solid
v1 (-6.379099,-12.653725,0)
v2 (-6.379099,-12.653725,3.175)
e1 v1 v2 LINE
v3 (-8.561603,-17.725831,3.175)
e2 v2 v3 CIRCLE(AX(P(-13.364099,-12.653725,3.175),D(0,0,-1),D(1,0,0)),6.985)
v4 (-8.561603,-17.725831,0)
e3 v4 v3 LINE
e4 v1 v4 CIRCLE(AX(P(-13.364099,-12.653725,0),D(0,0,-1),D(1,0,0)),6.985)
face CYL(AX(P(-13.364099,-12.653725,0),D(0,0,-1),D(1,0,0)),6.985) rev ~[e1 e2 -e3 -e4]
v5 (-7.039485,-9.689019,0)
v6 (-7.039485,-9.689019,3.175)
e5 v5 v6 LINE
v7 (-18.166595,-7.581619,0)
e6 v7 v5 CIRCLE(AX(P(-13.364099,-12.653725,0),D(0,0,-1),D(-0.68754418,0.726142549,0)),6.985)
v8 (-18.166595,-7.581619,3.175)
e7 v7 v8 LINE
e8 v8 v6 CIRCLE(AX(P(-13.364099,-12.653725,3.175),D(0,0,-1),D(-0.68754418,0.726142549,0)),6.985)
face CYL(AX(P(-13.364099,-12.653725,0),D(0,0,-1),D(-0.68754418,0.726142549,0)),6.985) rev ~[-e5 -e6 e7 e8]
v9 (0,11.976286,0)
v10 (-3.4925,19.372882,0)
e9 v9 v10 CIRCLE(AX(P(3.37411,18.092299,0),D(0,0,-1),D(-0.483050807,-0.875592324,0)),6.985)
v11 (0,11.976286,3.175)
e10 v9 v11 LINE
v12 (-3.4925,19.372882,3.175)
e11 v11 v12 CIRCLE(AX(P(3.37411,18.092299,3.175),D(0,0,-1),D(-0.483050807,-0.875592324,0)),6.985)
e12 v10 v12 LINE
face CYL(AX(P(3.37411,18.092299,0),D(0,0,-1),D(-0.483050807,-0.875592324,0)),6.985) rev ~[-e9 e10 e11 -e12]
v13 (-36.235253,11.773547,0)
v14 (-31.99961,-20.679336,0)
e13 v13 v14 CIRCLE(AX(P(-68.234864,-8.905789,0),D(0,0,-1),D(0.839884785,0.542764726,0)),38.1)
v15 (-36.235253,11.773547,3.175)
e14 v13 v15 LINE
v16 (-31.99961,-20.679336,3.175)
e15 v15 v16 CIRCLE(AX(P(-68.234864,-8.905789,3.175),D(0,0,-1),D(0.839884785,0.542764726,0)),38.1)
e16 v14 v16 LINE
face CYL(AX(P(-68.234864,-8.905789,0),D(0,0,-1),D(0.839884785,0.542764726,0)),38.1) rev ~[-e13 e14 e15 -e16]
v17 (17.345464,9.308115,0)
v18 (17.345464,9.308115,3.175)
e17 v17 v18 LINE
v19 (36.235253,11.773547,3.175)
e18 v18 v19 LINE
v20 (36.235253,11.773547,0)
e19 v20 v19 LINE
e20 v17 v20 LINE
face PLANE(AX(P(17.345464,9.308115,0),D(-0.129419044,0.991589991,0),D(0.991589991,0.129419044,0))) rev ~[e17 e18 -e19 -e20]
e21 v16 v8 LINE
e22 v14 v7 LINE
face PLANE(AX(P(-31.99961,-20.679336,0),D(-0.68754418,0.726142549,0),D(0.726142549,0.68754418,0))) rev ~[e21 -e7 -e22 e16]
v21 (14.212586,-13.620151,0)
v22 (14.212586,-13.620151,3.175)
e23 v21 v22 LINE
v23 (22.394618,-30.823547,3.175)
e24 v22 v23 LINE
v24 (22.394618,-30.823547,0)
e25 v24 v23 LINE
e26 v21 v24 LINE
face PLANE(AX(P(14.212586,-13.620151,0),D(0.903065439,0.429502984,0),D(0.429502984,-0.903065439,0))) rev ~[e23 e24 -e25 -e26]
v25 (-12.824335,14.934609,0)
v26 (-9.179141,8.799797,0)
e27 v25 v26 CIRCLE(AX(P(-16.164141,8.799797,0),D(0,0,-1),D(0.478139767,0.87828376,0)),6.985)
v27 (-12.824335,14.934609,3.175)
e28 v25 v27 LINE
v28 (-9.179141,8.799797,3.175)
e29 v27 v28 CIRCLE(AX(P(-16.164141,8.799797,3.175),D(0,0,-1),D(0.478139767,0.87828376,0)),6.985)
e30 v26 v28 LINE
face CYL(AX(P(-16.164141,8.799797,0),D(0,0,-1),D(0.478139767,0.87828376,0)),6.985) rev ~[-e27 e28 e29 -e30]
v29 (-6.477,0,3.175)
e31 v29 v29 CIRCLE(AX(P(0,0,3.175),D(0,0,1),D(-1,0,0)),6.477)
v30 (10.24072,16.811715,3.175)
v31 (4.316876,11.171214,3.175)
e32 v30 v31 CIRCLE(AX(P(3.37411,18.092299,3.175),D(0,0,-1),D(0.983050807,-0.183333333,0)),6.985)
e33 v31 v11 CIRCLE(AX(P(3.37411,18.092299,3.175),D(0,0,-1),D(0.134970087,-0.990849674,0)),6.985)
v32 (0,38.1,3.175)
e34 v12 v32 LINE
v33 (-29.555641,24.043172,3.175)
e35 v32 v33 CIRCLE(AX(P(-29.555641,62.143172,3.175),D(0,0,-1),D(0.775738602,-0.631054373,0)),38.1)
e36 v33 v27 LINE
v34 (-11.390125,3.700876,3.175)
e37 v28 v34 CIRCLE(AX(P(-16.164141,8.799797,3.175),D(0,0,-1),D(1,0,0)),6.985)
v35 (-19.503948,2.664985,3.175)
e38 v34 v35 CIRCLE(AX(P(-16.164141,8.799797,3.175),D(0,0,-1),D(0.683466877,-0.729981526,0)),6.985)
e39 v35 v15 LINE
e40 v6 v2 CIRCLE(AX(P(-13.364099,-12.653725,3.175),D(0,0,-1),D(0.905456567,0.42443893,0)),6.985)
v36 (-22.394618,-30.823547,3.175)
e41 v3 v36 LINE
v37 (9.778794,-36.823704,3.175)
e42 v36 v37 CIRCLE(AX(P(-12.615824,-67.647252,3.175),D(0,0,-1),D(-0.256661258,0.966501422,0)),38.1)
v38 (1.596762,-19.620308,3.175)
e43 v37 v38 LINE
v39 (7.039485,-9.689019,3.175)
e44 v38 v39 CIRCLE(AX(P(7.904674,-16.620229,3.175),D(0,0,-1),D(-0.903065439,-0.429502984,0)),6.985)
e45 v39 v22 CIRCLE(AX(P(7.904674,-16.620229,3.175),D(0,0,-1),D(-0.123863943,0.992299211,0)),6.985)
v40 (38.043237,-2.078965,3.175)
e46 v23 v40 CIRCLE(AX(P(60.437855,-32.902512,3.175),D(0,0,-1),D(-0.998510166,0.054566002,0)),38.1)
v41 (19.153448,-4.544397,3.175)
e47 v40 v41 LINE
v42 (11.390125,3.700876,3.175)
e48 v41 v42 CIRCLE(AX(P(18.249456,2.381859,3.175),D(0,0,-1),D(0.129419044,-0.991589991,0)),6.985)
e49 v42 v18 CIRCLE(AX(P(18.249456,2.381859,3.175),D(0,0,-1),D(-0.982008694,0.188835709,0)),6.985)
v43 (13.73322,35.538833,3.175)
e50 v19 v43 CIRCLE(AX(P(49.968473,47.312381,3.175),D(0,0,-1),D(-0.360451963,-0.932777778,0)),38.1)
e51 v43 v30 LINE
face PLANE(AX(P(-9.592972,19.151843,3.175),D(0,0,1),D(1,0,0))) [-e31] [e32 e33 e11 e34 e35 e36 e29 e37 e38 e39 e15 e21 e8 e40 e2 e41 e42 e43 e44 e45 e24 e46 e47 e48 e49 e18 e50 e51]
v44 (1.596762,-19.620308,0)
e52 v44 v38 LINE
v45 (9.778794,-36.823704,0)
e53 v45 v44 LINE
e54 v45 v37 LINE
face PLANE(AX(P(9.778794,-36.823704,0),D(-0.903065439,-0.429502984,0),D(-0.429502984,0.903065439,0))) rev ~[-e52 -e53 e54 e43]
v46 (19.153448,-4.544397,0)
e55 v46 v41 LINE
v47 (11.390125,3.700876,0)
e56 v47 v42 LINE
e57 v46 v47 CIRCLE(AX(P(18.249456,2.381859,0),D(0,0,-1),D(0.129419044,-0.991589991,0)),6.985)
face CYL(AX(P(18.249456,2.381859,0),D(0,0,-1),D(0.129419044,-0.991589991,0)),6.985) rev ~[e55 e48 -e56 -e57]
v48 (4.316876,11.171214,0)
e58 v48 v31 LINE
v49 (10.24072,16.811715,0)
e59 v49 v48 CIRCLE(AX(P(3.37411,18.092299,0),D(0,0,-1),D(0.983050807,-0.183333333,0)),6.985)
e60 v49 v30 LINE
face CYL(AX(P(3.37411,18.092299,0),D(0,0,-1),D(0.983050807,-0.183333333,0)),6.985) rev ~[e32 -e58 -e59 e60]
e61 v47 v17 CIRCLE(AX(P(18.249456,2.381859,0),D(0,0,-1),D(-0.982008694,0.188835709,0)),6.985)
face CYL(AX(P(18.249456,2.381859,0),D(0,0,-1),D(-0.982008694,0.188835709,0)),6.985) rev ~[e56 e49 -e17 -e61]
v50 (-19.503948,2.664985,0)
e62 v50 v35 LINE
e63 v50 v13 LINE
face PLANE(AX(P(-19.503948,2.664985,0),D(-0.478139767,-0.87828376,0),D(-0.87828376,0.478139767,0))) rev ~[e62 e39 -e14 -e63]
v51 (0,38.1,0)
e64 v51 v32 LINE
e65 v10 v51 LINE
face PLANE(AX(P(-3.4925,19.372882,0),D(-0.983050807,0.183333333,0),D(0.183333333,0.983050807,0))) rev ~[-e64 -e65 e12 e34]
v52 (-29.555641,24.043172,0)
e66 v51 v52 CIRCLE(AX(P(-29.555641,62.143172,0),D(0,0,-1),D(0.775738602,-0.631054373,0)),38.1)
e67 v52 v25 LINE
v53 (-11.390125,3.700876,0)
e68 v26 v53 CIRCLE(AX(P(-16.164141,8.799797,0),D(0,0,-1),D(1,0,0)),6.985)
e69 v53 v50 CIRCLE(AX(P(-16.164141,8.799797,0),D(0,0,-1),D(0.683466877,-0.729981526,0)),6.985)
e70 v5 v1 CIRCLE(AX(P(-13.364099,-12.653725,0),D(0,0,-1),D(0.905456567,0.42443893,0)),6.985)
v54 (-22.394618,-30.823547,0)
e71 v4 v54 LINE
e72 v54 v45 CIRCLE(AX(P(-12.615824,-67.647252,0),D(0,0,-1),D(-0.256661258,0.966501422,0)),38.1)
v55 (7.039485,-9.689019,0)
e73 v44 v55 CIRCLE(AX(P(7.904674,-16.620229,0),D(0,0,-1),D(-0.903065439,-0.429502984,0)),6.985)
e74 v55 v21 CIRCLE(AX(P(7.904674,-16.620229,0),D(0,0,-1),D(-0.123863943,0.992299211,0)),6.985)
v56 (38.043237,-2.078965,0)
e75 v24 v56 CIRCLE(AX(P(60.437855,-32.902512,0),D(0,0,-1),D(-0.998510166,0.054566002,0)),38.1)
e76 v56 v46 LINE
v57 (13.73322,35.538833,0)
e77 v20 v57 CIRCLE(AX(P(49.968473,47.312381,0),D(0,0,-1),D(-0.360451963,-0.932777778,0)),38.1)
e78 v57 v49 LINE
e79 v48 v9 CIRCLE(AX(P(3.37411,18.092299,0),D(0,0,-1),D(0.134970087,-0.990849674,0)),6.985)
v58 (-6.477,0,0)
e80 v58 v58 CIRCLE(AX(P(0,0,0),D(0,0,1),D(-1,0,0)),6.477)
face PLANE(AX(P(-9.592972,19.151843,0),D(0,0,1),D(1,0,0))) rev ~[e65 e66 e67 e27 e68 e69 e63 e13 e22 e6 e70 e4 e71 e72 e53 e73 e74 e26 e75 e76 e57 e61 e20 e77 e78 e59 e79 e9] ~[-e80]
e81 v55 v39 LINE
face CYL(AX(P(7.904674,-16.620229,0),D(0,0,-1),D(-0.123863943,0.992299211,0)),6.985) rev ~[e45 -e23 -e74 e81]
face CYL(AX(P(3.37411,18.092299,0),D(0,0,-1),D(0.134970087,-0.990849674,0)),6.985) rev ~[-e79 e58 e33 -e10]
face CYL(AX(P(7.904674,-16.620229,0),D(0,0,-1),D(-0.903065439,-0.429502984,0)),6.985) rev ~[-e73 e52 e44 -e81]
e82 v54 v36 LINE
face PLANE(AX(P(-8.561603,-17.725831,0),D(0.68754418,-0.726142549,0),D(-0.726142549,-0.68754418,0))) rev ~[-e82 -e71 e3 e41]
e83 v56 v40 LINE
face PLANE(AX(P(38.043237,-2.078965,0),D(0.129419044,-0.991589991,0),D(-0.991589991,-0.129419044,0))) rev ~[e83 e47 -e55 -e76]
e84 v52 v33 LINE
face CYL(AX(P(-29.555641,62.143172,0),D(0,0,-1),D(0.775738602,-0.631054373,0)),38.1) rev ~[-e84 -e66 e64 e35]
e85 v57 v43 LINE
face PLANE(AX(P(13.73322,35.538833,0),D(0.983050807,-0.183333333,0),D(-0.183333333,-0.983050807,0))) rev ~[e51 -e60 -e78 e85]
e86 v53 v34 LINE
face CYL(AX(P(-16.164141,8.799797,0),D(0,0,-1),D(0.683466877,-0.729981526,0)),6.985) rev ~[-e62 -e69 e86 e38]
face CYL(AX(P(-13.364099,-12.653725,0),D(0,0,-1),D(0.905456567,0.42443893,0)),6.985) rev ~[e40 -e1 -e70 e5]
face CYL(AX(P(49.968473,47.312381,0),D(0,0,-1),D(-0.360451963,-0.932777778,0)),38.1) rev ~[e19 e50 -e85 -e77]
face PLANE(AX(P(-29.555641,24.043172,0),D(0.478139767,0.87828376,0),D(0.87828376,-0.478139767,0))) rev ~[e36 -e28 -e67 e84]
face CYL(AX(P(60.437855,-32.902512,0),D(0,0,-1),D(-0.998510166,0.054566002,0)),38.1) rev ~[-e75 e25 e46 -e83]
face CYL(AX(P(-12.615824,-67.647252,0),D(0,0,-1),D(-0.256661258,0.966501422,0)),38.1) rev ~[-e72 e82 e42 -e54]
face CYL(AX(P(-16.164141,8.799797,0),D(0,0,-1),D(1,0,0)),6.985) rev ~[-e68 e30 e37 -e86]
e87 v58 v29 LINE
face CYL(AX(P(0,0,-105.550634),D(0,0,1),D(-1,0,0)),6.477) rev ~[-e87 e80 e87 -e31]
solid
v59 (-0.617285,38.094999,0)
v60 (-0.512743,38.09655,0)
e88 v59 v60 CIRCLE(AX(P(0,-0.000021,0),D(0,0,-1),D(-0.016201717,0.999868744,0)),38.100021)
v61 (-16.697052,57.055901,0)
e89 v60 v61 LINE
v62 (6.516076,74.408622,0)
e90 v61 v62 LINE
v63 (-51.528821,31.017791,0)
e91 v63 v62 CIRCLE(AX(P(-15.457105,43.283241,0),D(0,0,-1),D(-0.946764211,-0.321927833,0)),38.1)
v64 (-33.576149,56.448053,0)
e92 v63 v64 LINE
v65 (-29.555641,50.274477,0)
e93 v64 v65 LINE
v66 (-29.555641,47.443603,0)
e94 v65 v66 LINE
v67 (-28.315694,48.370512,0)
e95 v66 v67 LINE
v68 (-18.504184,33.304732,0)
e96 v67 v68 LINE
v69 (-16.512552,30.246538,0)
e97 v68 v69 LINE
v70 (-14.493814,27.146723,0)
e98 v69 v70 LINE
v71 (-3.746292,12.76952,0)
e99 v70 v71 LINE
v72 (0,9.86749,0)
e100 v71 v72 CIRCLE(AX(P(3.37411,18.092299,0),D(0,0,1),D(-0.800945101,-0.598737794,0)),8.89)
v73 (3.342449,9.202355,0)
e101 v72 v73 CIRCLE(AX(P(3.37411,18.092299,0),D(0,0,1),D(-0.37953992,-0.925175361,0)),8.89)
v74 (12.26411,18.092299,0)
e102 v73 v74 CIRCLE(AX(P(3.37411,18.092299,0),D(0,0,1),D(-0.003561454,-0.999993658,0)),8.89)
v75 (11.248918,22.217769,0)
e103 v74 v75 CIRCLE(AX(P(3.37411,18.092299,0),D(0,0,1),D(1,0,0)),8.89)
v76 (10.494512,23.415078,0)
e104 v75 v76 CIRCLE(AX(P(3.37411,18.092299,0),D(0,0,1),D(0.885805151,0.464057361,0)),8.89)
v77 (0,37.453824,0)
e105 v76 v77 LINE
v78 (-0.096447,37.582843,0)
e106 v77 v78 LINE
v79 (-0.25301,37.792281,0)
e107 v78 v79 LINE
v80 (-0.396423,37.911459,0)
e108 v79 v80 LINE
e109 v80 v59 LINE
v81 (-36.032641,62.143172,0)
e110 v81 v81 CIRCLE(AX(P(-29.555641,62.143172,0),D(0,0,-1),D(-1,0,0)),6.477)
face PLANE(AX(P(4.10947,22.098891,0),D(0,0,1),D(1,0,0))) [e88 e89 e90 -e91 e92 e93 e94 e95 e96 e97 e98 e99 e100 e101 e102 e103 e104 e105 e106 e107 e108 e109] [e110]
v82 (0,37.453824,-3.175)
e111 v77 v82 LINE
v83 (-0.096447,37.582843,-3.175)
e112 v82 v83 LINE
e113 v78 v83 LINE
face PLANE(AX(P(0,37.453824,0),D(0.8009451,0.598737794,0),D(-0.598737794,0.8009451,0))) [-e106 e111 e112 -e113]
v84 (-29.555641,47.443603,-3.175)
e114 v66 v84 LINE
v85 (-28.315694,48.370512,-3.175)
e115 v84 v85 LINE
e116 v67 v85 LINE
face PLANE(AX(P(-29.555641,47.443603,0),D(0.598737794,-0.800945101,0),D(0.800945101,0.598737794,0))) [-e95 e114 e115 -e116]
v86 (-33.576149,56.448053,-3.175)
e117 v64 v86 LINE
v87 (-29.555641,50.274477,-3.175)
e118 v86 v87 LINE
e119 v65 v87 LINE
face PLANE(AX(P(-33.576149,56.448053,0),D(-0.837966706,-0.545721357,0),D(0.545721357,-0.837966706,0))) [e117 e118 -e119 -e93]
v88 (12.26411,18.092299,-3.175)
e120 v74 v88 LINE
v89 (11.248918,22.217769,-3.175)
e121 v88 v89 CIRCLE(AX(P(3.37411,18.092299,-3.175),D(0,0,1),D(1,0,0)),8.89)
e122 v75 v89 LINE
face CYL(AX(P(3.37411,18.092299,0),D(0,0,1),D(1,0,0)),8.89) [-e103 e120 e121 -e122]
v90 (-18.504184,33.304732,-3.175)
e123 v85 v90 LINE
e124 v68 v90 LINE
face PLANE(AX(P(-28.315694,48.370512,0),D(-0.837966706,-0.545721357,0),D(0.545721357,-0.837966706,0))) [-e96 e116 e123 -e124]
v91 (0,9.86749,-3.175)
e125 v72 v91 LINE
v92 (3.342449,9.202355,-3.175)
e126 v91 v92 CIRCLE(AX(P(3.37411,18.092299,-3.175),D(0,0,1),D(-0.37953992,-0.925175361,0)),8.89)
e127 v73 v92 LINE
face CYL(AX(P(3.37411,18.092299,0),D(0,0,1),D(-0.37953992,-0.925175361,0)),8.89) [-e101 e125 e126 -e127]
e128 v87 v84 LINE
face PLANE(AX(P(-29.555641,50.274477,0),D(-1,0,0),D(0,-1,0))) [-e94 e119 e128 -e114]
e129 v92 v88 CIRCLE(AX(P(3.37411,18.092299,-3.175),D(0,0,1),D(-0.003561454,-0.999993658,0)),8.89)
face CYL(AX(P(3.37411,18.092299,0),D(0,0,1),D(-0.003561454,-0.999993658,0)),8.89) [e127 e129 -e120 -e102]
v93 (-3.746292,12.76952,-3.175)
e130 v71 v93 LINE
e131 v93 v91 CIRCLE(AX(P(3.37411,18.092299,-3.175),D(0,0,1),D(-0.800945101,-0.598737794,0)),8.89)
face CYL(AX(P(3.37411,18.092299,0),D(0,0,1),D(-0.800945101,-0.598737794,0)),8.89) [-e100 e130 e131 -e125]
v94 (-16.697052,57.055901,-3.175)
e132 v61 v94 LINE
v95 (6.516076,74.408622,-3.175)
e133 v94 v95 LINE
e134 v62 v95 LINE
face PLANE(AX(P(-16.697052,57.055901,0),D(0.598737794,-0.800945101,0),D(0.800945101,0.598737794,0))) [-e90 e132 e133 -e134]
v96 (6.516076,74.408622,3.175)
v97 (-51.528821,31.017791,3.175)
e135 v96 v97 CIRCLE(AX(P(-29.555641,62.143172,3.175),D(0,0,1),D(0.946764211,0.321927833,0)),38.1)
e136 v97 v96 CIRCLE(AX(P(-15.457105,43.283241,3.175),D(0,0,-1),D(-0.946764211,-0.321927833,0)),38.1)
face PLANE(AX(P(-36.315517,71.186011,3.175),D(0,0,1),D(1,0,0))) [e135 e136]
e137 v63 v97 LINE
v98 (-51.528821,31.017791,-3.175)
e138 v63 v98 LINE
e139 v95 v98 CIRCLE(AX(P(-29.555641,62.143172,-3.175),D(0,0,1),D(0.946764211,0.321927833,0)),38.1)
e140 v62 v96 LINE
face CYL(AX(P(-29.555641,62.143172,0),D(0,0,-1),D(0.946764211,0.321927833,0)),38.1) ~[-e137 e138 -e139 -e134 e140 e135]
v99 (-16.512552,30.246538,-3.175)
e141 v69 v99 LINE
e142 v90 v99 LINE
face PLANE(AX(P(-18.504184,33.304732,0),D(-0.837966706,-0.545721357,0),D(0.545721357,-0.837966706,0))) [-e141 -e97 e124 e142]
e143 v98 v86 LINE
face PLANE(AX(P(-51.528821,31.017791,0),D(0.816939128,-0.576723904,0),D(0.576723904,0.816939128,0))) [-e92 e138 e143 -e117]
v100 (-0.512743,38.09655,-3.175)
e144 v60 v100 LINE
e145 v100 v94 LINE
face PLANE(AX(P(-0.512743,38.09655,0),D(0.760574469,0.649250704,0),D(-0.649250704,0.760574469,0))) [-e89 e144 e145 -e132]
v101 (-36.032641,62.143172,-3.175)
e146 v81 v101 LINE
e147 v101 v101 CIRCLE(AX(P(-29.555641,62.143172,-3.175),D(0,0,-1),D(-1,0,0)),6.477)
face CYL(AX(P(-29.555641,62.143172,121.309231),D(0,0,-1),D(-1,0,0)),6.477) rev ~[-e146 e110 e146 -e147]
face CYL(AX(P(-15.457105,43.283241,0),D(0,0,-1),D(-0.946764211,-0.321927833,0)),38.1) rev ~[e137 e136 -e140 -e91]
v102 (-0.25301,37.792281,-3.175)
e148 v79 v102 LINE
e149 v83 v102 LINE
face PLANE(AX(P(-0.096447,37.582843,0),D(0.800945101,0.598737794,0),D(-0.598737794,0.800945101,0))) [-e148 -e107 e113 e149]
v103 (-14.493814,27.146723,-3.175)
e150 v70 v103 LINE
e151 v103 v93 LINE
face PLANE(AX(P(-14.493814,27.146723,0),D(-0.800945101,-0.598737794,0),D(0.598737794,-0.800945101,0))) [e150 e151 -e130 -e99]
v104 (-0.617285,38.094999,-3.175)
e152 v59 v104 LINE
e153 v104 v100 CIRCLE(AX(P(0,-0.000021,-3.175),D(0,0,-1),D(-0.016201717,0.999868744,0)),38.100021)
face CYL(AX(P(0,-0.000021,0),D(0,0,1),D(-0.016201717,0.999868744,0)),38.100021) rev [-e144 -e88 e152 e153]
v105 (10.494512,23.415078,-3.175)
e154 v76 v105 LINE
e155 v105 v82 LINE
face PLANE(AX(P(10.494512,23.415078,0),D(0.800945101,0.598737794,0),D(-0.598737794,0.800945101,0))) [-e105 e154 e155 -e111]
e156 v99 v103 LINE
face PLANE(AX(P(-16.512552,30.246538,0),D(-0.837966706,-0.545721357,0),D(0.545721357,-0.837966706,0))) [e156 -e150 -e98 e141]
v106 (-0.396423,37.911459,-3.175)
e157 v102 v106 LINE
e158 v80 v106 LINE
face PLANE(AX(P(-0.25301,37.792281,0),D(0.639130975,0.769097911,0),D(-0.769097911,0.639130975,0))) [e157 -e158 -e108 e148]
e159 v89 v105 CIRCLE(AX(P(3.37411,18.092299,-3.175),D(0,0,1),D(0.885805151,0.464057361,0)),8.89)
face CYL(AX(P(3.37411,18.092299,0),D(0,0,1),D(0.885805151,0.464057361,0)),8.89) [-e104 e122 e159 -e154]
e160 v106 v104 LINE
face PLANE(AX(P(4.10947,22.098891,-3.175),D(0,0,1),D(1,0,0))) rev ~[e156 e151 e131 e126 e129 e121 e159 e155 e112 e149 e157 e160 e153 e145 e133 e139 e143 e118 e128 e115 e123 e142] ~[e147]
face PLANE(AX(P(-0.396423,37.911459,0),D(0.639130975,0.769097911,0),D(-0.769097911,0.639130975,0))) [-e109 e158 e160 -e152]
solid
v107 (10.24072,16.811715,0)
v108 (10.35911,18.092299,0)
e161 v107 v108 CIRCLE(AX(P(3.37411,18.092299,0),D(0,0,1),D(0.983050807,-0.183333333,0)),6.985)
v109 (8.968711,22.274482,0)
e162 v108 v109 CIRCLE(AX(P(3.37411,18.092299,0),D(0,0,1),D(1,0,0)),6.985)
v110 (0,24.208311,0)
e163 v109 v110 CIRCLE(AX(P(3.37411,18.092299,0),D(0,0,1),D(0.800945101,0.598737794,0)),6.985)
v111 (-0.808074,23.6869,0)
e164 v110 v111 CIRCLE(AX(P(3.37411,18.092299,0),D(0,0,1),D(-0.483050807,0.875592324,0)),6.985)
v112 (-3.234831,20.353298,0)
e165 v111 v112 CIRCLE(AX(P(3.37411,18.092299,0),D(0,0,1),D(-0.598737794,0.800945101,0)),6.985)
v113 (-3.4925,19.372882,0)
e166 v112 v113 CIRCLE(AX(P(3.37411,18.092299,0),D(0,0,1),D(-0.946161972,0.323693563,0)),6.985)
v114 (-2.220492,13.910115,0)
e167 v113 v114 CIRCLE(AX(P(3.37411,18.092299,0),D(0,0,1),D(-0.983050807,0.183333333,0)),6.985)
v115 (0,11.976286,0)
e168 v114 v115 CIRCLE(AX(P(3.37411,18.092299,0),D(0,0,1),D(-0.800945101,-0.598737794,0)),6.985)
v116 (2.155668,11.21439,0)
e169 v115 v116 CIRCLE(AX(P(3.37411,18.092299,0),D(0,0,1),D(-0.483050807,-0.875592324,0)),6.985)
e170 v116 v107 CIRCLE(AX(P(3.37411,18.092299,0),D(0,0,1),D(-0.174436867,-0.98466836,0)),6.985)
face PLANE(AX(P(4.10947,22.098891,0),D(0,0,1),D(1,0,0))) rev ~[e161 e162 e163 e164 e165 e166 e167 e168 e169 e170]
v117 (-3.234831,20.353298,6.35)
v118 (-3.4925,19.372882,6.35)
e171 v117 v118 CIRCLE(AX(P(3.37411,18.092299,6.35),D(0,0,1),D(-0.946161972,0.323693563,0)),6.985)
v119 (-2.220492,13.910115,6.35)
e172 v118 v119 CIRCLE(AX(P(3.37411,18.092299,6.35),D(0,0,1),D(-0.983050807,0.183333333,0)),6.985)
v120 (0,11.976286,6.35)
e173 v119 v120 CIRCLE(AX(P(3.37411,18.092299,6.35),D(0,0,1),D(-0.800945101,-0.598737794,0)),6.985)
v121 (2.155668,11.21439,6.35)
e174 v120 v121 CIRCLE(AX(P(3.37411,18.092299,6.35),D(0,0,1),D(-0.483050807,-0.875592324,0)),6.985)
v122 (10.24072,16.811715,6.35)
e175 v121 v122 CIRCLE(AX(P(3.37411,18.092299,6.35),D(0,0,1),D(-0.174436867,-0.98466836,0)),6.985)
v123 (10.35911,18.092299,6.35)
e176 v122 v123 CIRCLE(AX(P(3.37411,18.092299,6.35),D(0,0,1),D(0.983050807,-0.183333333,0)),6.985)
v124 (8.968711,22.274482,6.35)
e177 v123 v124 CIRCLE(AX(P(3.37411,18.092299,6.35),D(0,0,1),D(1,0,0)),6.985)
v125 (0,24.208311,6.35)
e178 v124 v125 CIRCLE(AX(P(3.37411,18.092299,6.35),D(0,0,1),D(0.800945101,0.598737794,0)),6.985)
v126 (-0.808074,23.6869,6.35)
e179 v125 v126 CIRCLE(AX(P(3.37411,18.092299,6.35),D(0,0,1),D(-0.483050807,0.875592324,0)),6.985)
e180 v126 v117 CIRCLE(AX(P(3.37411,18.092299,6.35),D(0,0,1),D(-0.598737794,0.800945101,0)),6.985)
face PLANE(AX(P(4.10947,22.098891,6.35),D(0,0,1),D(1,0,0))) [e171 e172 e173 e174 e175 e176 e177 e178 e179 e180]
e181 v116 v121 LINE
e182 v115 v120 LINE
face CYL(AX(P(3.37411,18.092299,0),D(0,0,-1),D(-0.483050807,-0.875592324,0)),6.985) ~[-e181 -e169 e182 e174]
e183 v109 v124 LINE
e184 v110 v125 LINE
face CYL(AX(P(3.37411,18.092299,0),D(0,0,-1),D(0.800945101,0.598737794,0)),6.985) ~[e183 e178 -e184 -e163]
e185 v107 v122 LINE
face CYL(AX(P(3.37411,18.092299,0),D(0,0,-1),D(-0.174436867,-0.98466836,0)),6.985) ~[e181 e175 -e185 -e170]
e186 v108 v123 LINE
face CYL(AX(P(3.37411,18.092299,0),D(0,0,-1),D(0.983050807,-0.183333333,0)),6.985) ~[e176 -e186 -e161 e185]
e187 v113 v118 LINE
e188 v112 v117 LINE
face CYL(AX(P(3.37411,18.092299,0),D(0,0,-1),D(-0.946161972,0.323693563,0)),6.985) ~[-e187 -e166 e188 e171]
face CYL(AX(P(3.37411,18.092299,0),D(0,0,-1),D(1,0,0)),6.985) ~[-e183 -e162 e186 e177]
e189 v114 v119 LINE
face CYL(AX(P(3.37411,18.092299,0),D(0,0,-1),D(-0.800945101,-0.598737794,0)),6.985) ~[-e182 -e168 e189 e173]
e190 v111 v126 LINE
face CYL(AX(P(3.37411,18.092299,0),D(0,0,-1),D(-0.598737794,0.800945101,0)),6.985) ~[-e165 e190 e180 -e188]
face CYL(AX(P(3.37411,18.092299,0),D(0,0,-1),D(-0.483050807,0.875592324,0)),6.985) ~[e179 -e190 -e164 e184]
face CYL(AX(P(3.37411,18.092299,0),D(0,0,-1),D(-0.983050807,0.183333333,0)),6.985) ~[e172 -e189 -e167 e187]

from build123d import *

# Parameters (mm, degrees)
F1_DEPTH = 3.175
F3_DEPTH = 3.175
F4_DEPTH = 3.175
F5_DEPTH = 6.35
F6_D     = 12.954
F7_D     = 12.954


with BuildPart() as f1:
    # F0 (on Top) → F1 (new body)
    with BuildSketch(Plane.XY):
        with BuildLine():
            Line((-3.4925, 19.3728821291), (0, 38.1))
            ThreePointArc((0, 38.1), (-13.191577027, 27.7363784004), (-29.5556407262, 24.0431716141))
            Line((-29.5556407262, 24.0431716141), (-12.8243350965, 14.9346090532))
            ThreePointArc((-12.8243350965, 14.9346090532), (-10.1591945825, 12.3678271309), (-9.1791413688, 8.799796989))
            ThreePointArc((-9.1791413688, 8.799796989), (-9.7556810347, 6.0209732906), (-11.3901252333, 3.7008760308))
            Line((-11.3901252333, 3.7008760308), (0, 0))
            Line((0, 0), (0, 11.9762864121))
            ThreePointArc((0, 11.9762864121), (-2.9421779805, 15.1098949687), (-3.4925, 19.3728821291))
        make_face()
        with BuildLine():
            Line((-7.0394845303, -9.6890192369), (0, 0))
            Line((0, 0), (-11.3901252333, 3.7008760308))
            ThreePointArc((-11.3901252333, 3.7008760308), (-15.279547067, 1.8710367881), (-19.5039476412, 2.6649849248))
            Line((-19.5039476412, 2.6649849248), (-36.2352532708, 11.7735474857))
            ThreePointArc((-36.2352532708, 11.7735474857), (-30.4552849001, -3.9749230036), (-31.9996103, -20.6793360785))
            Line((-31.9996103, -20.6793360785), (-18.1665947447, -7.5816194589))
            ThreePointArc((-18.1665947447, -7.5816194589), (-12.0642931739, -5.7907279512), (-7.0394845303, -9.6890192369))
        make_face()
        with BuildLine():
            ThreePointArc((-22.3946181123, -30.8235474857), (-5.6308241783, -30.1930159193), (9.778793934, -36.8237041754))
            Line((9.778793934, -36.8237041754), (1.5967620844, -19.6203075685))
            ThreePointArc((1.5967620844, -19.6203075685), (1.7792379362, -13.2632579843), (7.0394845303, -9.6890192369))
            Line((7.0394845303, -9.6890192369), (0, 0))
            Line((0, 0), (-7.0394845303, -9.6890192369))
            ThreePointArc((-7.0394845303, -9.6890192369), (-6.5461937442, -11.1350422846), (-6.3790986509, -12.6537251625))
            ThreePointArc((-6.3790986509, -12.6537251625), (-6.9478824678, -15.4145936657), (-8.561602557, -17.7258308661))
            Line((-8.561602557, -17.7258308661), (-22.3946181123, -30.8235474857))
        make_face()
        with BuildLine():
            ThreePointArc((22.3946181123, -30.8235474857), (26.9752441732, -14.6853870574), (38.0432373202, -2.0789646936))
            Line((38.0432373202, -2.0789646936), (19.1534479848, -4.5443974882))
            ThreePointArc((19.1534479848, -4.5443974882), (13.1639226926, -2.4064162846), (11.3901252333, 3.7008760308))
            Line((11.3901252333, 3.7008760308), (0, 0))
            Line((0, 0), (7.0394845303, -9.6890192369))
            ThreePointArc((7.0394845303, -9.6890192369), (11.261645413, -10.4947929864), (14.2125862627, -13.6201508788))
            Line((14.2125862627, -13.6201508788), (22.3946181123, -30.8235474857))
        make_face()
        with BuildLine():
            Line((17.3454639355, 9.3081146911), (36.2352532708, 11.7735474857))
            ThreePointArc((36.2352532708, 11.7735474857), (22.3024419322, 21.1169475799), (13.733219772, 35.5388333333))
            Line((13.733219772, 35.5388333333), (10.240719772, 16.8117154624))
            ThreePointArc((10.240719772, 16.8117154624), (8.1907895334, 13.0336604242), (4.3168759409, 11.1712138255))
            Line((4.3168759409, 11.1712138255), (0, 0))
            Line((0, 0), (11.3901252333, 3.7008760308))
            ThreePointArc((11.3901252333, 3.7008760308), (13.4611810741, 7.467391869), (17.3454639355, 9.3081146911))
        make_face()
        with BuildLine():
            Line((0, 0), (4.3168759409, 11.1712138255))
            ThreePointArc((4.3168759409, 11.1712138255), (2.0935265527, 11.2256889098), (0, 11.9762864121))
            Line((0, 11.9762864121), (0, 0))
        make_face()
    extrude(amount=F1_DEPTH)

    # F6 (through all)
    with Locations(Plane(origin=(0, 0, 0), x_dir=(1, 0, 0), z_dir=(0, 0, -1))):
        with Locations((0, 0)):
            Hole(F6_D / 2)


with BuildPart() as f3:
    # F2 (on Top) → F3 (new body)
    with BuildSketch(Plane.XY):
        with BuildLine():
            Line((0, 22.6059219694), (3.374109886, 18.0922987958))
            Line((3.374109886, 18.0922987958), (8.9687114132, 22.2744822868))
            ThreePointArc((8.9687114132, 22.2744822868), (4.8463766175, 24.9203772716), (0, 24.2083111795))
            Line((0, 24.2083111795), (0, 22.6059219694))
        make_face()
        with BuildLine():
            Line((3.374109886, 18.0922987958), (10.240719772, 16.8117154624))
            ThreePointArc((10.240719772, 16.8117154624), (10.3294493836, 17.4492766553), (10.359109886, 18.0922987958))
            ThreePointArc((10.359109886, 18.0922987958), (10.0024021497, 20.2959245958), (8.9687114132, 22.2744822868))
            Line((8.9687114132, 22.2744822868), (3.374109886, 18.0922987958))
        make_face()
        with BuildLine():
            ThreePointArc((2.1556683682, 11.2143903006), (7.3500328883, 12.3492803142), (10.240719772, 16.8117154624))
            Line((10.240719772, 16.8117154624), (3.374109886, 18.0922987958))
            Line((3.374109886, 18.0922987958), (0, 15.5700196677))
            Line((0, 15.5700196677), (0, 14.8690522954))
            Line((0, 14.8690522954), (2.1556683682, 11.2143903006))
        make_face()
        Polygon((0, 15.5700196677), (0, 18.7215509241), (-2.5532194688, 19.197711701), (-0.286939248, 15.3555213553), align=None)
        Polygon((0, 15.5700196677), (3.374109886, 18.0922987958), (0, 18.7215509241), align=None)
        Polygon((0, 18.7215509241), (3.374109886, 18.0922987958), (0, 22.6059219694), align=None)
        with BuildLine():
            ThreePointArc((-3.7462920577, 12.7695198073), (-2.0700740867, 11.0642862125), (0, 9.8674898328))
            Line((0, 9.8674898328), (0, 11.9762864121))
            ThreePointArc((0, 11.9762864121), (-1.2133043802, 12.8248653268), (-2.2204916412, 13.9101153048))
            Line((-2.2204916412, 13.9101153048), (-3.7462920577, 12.7695198073))
        make_face()
        with BuildLine():
            Line((-3.2916828829, 20.4496826507), (-2.4843020924, 24.7789354011))
            ThreePointArc((-2.4843020924, 24.7789354011), (-3.5587978247, 23.6570890591), (-4.4216116838, 22.3653334559))
            Line((-4.4216116838, 22.3653334559), (-3.2916828829, 20.4496826507))
        make_face()
        with BuildLine():
            Line((0, 11.9762864121), (0, 9.8674898328))
            ThreePointArc((0, 9.8674898328), (1.6390535727, 9.3732575876), (3.3424485628, 9.2023551761))
            Line((3.3424485628, 9.2023551761), (2.1556683682, 11.2143903006))
            ThreePointArc((2.1556683682, 11.2143903006), (1.0464493608, 11.5065398054), (0, 11.9762864121))
        make_face()
        with BuildLine():
            Line((10.240719772, 16.8117154624), (11.2489176796, 22.2177687344))
            ThreePointArc((11.2489176796, 22.2177687344), (10.8955768976, 22.8314584253), (10.4945118297, 23.4150777843))
            Line((10.4945118297, 23.4150777843), (8.9687114132, 22.2744822868))
            ThreePointArc((8.9687114132, 22.2744822868), (10.0024021497, 20.2959245958), (10.359109886, 18.0922987958))
            ThreePointArc((10.359109886, 18.0922987958), (10.3294493836, 17.4492766553), (10.240719772, 16.8117154624))
        make_face()
        with BuildLine():
            Line((8.9687114132, 22.2744822868), (10.4945118297, 23.4150777843))
            ThreePointArc((10.4945118297, 23.4150777843), (5.7435234291, 26.6607280253), (0, 26.3171077587))
            Line((0, 26.3171077587), (0, 24.2083111795))
            ThreePointArc((0, 24.2083111795), (4.8463766175, 24.9203772716), (8.9687114132, 22.2744822868))
        make_face()
        with BuildLine():
            Line((0, 24.2083111795), (0, 26.3171077587))
            ThreePointArc((0, 26.3171077587), (-1.0092561425, 25.8265215919), (-1.9486691025, 25.2127007395))
            Line((-1.9486691025, 25.2127007395), (-0.808073605, 23.6869003229))
            ThreePointArc((-0.808073605, 23.6869003229), (-0.4130209171, 23.961529178), (0, 24.2083111795))
        make_face()
        with BuildLine():
            Line((-0.808073605, 23.6869003229), (-1.9486691025, 25.2127007395))
            ThreePointArc((-1.9486691025, 25.2127007395), (-2.2206909105, 25.0010109803), (-2.4843020924, 24.7789354011))
            Line((-2.4843020924, 24.7789354011), (-3.2916828829, 20.4496826507))
            Line((-3.2916828829, 20.4496826507), (-3.2348314891, 20.3532983314))
            ThreePointArc((-3.2348314891, 20.3532983314), (-2.2730415666, 22.2032482569), (-0.808073605, 23.6869003229))
        make_face()
        with BuildLine():
            ThreePointArc((-8.9728483214, 30.081377266), (-11.6730301026, 28.5006057595), (-14.49381421, 27.1467234801))
            Line((-14.49381421, 27.1467234801), (-3.7462920577, 12.7695198073))
            ThreePointArc((-3.7462920577, 12.7695198073), (-5.4939561412, 17.4681954886), (-4.4216116838, 22.3653334559))
            Line((-4.4216116838, 22.3653334559), (-8.9728483214, 30.081377266))
        make_face()
        with BuildLine():
            Line((-2.3126117983, 25.6995551221), (-0.0964468265, 37.5828429241))
            Line((-0.0964468265, 37.5828429241), (-0.2530103227, 37.7922814571))
            ThreePointArc((-0.2530103227, 37.7922814571), (-3.3166716228, 34.5184272643), (-6.7437307754, 31.6271632841))
            Line((-6.7437307754, 31.6271632841), (-2.3126117983, 25.6995551221))
        make_face()
        with BuildLine():
            Line((10.4945118297, 23.4150777843), (0, 37.4538238211))
            Line((0, 37.4538238211), (0, 26.3171077587))
            ThreePointArc((0, 26.3171077587), (5.7435234291, 26.6607280253), (10.4945118297, 23.4150777843))
        make_face()
        with BuildLine():
            Line((0, 26.3171077587), (0, 37.4538238211))
            Line((0, 37.4538238211), (-0.0964468265, 37.5828429241))
            Line((-0.0964468265, 37.5828429241), (-2.3126117983, 25.6995551221))
            Line((-2.3126117983, 25.6995551221), (-1.9486691025, 25.2127007395))
            ThreePointArc((-1.9486691025, 25.2127007395), (-1.0092561425, 25.8265215919), (0, 26.3171077587))
        make_face()
        with BuildLine():
            Line((0, 22.6059219694), (0, 24.2083111795))
            ThreePointArc((0, 24.2083111795), (-0.4130209171, 23.961529178), (-0.808073605, 23.6869003229))
            Line((-0.808073605, 23.6869003229), (0, 22.6059219694))
        make_face()
        with BuildLine():
            Line((-1.9486691025, 25.2127007395), (-2.3126117983, 25.6995551221))
            Line((-2.3126117983, 25.6995551221), (-2.4843020924, 24.7789354011))
            ThreePointArc((-2.4843020924, 24.7789354011), (-2.2206909105, 25.0010109803), (-1.9486691025, 25.2127007395))
        make_face()
        with BuildLine():
            ThreePointArc((-6.7437307754, 31.6271632841), (-3.3166716228, 34.5184272643), (-0.2530103227, 37.7922814571))
            Line((-0.2530103227, 37.7922814571), (-0.3964227158, 37.9114591345))
            Line((-0.3964227158, 37.9114591345), (-8.5445523178, 34.0361630263))
            Line((-8.5445523178, 34.0361630263), (-6.7437307754, 31.6271632841))
        make_face()
        with BuildLine():
            ThreePointArc((-8.9728483214, 30.081377266), (-7.8445280938, 30.8344254197), (-6.7437307754, 31.6271632841))
            Line((-6.7437307754, 31.6271632841), (-8.5445523178, 34.0361630263))
            Line((-8.5445523178, 34.0361630263), (-10.7006800626, 33.0106965859))
            Line((-10.7006800626, 33.0106965859), (-8.9728483214, 30.081377266))
        make_face()
        with BuildLine():
            ThreePointArc((-10.483112718, 36.6294191565), (-14.5886680137, 35.1963175004), (-18.5041843573, 33.304731815))
            Line((-18.5041843573, 33.304731815), (-16.5125517946, 30.2465378152))
            Line((-16.5125517946, 30.2465378152), (-10.7006800626, 33.0106965859))
            Line((-10.7006800626, 33.0106965859), (-8.5445523178, 34.0361630263))
            Line((-8.5445523178, 34.0361630263), (-10.483112718, 36.6294191565))
        make_face()
        with BuildLine():
            Line((-0.3964227158, 37.9114591345), (-0.6172854684, 38.0949991292))
            ThreePointArc((-0.6172854684, 38.0949991292), (-5.5983650416, 37.6864472836), (-10.483112718, 36.6294191565))
            Line((-10.483112718, 36.6294191565), (-8.5445523178, 34.0361630263))
            Line((-8.5445523178, 34.0361630263), (-0.3964227158, 37.9114591345))
        make_face()
        with BuildLine():
            ThreePointArc((-0.6172854684, 38.0949991292), (-0.5650149545, 38.0958102434), (-0.5127433768, 38.0965496368))
            Line((-0.5127433768, 38.0965496368), (-16.6970522411, 57.0559008639))
            Line((-16.6970522411, 57.0559008639), (-22.5063728772, 52.7132064397))
            Line((-22.5063728772, 52.7132064397), (-10.483112718, 36.6294191565))
            ThreePointArc((-10.483112718, 36.6294191565), (-5.5983650416, 37.6864472836), (-0.6172854684, 38.0949991292))
        make_face()
        with BuildLine():
            Line((-28.3156935133, 48.3705120154), (-18.5041843573, 33.304731815))
            ThreePointArc((-18.5041843573, 33.304731815), (-14.5886680137, 35.1963175004), (-10.483112718, 36.6294191565))
            Line((-10.483112718, 36.6294191565), (-22.5063728772, 52.7132064397))
            Line((-22.5063728772, 52.7132064397), (-28.3156935133, 48.3705120154))
        make_face()
        with BuildLine():
            Line((-22.5063728772, 52.7132064397), (-16.6970522411, 57.0559008639))
            Line((-16.6970522411, 57.0559008639), (-22.9554744347, 64.3874233584))
            Line((-22.9554744347, 64.3874233584), (-23.4234489343, 64.2282981878))
            ThreePointArc((-23.4234489343, 64.2282981878), (-23.1654241713, 63.1998936126), (-23.0786407262, 62.1431716141))
            ThreePointArc((-23.0786407262, 62.1431716141), (-23.7647213291, 59.2420026194), (-25.6776160345, 56.955450198))
            Line((-25.6776160345, 56.955450198), (-22.5063728772, 52.7132064397))
        make_face()
        with BuildLine():
            Line((-29.5556407262, 50.2744772333), (-28.3156935133, 48.3705120154))
            Line((-28.3156935133, 48.3705120154), (-22.5063728772, 52.7132064397))
            Line((-22.5063728772, 52.7132064397), (-25.6776160345, 56.955450198))
            ThreePointArc((-25.6776160345, 56.955450198), (-27.5122786207, 55.9969369696), (-29.5556407262, 55.6661716141))
            Line((-29.5556407262, 55.6661716141), (-29.5556407262, 50.2744772333))
        make_face()
        with BuildLine():
            Line((-33.2910814494, 56.8518568811), (-33.576149344, 56.4480534045))
            Line((-33.576149344, 56.4480534045), (-29.5556407262, 50.2744772333))
            Line((-29.5556407262, 50.2744772333), (-29.5556407262, 55.6661716141))
            ThreePointArc((-29.5556407262, 55.6661716141), (-31.5151921384, 55.9697052246), (-33.2910814494, 56.8518568811))
        make_face()
        with BuildLine():
            Line((-29.5556407262, 62.1431716141), (-33.2910814494, 56.8518568811))
            ThreePointArc((-33.2910814494, 56.8518568811), (-31.5151921384, 55.9697052246), (-29.5556407262, 55.6661716141))
            Line((-29.5556407262, 55.6661716141), (-29.5556407262, 62.1431716141))
        make_face()
        with BuildLine():
            Line((-29.5556407262, 62.1431716141), (-29.5556407262, 55.6661716141))
            ThreePointArc((-29.5556407262, 55.6661716141), (-27.5122786207, 55.9969369696), (-25.6776160345, 56.955450198))
            Line((-25.6776160345, 56.955450198), (-29.5556407262, 62.1431716141))
        make_face()
        with BuildLine():
            ThreePointArc((-23.0786407262, 62.1431716141), (-23.1654241713, 63.1998936126), (-23.4234489343, 64.2282981878))
            Line((-23.4234489343, 64.2282981878), (-29.5556407262, 62.1431716141))
            Line((-29.5556407262, 62.1431716141), (-25.6776160345, 56.955450198))
            ThreePointArc((-25.6776160345, 56.955450198), (-23.7647213291, 59.2420026194), (-23.0786407262, 62.1431716141))
        make_face()
        with BuildLine():
            ThreePointArc((-24.6293998875, 66.3483684227), (-33.4336654178, 67.3308930302), (-34.9831510827, 58.6085343866))
            Line((-34.9831510827, 58.6085343866), (-24.6293998875, 66.3483684227))
        make_face()
        with BuildLine():
            Line((-24.6293998875, 66.3483684227), (-34.9831510827, 58.6085343866))
            ThreePointArc((-34.9831510827, 58.6085343866), (-34.2205519886, 57.6498285476), (-33.2910814494, 56.8518568811))
            Line((-33.2910814494, 56.8518568811), (-29.5556407262, 62.1431716141))
            Line((-29.5556407262, 62.1431716141), (-23.4234489343, 64.2282981878))
            ThreePointArc((-23.4234489343, 64.2282981878), (-23.9257288697, 65.3456115415), (-24.6293998875, 66.3483684227))
        make_face()
        with BuildLine():
            Line((-34.9831510827, 58.6085343866), (-33.576149344, 56.4480534045))
            Line((-33.576149344, 56.4480534045), (-33.2910814494, 56.8518568811))
            ThreePointArc((-33.2910814494, 56.8518568811), (-34.2205519886, 57.6498285476), (-34.9831510827, 58.6085343866))
        make_face()
        with BuildLine():
            Line((-23.4234489343, 64.2282981878), (-22.9554744347, 64.3874233584))
            Line((-22.9554744347, 64.3874233584), (-24.6293998875, 66.3483684227))
            ThreePointArc((-24.6293998875, 66.3483684227), (-23.9257288697, 65.3456115415), (-23.4234489343, 64.2282981878))
        make_face()
        with BuildLine():
            ThreePointArc((6.5160756963, 74.4086220475), (-52.367550677, 92.6591799441), (-51.5288214508, 31.0177908318))
            ThreePointArc((-51.5288214508, 31.0177908318), (-38.2690149791, 73.7992495952), (6.5160756963, 74.4086220475))
        make_face()
        with BuildLine():
            ThreePointArc((6.5160756963, 74.4086220475), (-38.2690149791, 73.7992495952), (-51.5288214508, 31.0177908318))
            Line((-51.5288214508, 31.0177908318), (-33.576149344, 56.4480534045))
            Line((-33.576149344, 56.4480534045), (-34.9831510827, 58.6085343866))
            ThreePointArc((-34.9831510827, 58.6085343866), (-33.4336654178, 67.3308930302), (-24.6293998875, 66.3483684227))
            Line((-24.6293998875, 66.3483684227), (-22.9554744347, 64.3874233584))
            Line((-22.9554744347, 64.3874233584), (6.5160756963, 74.4086220475))
        make_face()
        Polygon((-29.5556407262, 50.2744772333), (-29.5556407262, 47.4436029696), (-28.3156935133, 48.3705120154), align=None)
        Polygon((-22.9554744347, 64.3874233584), (-16.6970522411, 57.0559008639), (6.5160756963, 74.4086220475), align=None)
        with BuildLine():
            ThreePointArc((-4.4216116838, 22.3653334559), (-5.4939561412, 17.4681954886), (-3.7462920577, 12.7695198073))
            Line((-3.7462920577, 12.7695198073), (-2.2204916412, 13.9101153048))
            ThreePointArc((-2.2204916412, 13.9101153048), (-3.4288970091, 16.508214775), (-3.4925, 19.3728821291))
            Line((-3.4925, 19.3728821291), (-3.2916828829, 20.4496826507))
            Line((-3.2916828829, 20.4496826507), (-4.4216116838, 22.3653334559))
        make_face()
        with BuildLine():
            ThreePointArc((-3.4925, 19.3728821291), (-3.4288970091, 16.508214775), (-2.2204916412, 13.9101153048))
            Line((-2.2204916412, 13.9101153048), (-0.286939248, 15.3555213553))
            Line((-0.286939248, 15.3555213553), (-2.5532194688, 19.197711701))
            Line((-2.5532194688, 19.197711701), (-3.4925, 19.3728821291))
        make_face()
        with BuildLine():
            ThreePointArc((0, 11.9762864121), (1.0464493608, 11.5065398054), (2.1556683682, 11.2143903006))
            Line((2.1556683682, 11.2143903006), (0, 14.8690522954))
            Line((0, 14.8690522954), (0, 11.9762864121))
        make_face()
        with BuildLine():
            ThreePointArc((-2.2204916412, 13.9101153048), (-1.2133043802, 12.8248653268), (0, 11.9762864121))
            Line((0, 11.9762864121), (0, 14.8690522954))
            Line((0, 14.8690522954), (-0.286939248, 15.3555213553))
            Line((-0.286939248, 15.3555213553), (-2.2204916412, 13.9101153048))
        make_face()
        with BuildLine():
            Line((-2.5532194688, 19.197711701), (0, 18.7215509241))
            Line((0, 18.7215509241), (0, 22.6059219694))
            Line((0, 22.6059219694), (-0.808073605, 23.6869003229))
            ThreePointArc((-0.808073605, 23.6869003229), (-2.2730415666, 22.2032482569), (-3.2348314891, 20.3532983314))
            Line((-3.2348314891, 20.3532983314), (-2.5532194688, 19.197711701))
        make_face()
        with BuildLine():
            Line((-3.4925, 19.3728821291), (-2.5532194688, 19.197711701))
            Line((-2.5532194688, 19.197711701), (-3.2348314891, 20.3532983314))
            ThreePointArc((-3.2348314891, 20.3532983314), (-3.3814747986, 19.8677707245), (-3.4925, 19.3728821291))
        make_face()
        Polygon((0, 14.8690522954), (0, 15.5700196677), (-0.286939248, 15.3555213553), align=None)
        with BuildLine():
            ThreePointArc((12.264109886, 18.0922987958), (12.0065817592, 20.2165702845), (11.2489176796, 22.2177687344))
            Line((11.2489176796, 22.2177687344), (10.240719772, 16.8117154624))
            ThreePointArc((10.240719772, 16.8117154624), (7.3500328883, 12.3492803142), (2.1556683682, 11.2143903006))
            Line((2.1556683682, 11.2143903006), (3.3424485628, 9.2023551761))
            ThreePointArc((3.3424485628, 9.2023551761), (9.6490852181, 11.7949354919), (12.264109886, 18.0922987958))
        make_face()
        with BuildLine():
            Line((-2.4843020924, 24.7789354011), (-2.3126117983, 25.6995551221))
            Line((-2.3126117983, 25.6995551221), (-6.7437307754, 31.6271632841))
            ThreePointArc((-6.7437307754, 31.6271632841), (-7.8445280938, 30.8344254197), (-8.9728483214, 30.081377266))
            Line((-8.9728483214, 30.081377266), (-4.4216116838, 22.3653334559))
            ThreePointArc((-4.4216116838, 22.3653334559), (-3.5587978247, 23.6570890591), (-2.4843020924, 24.7789354011))
        make_face()
        with BuildLine():
            Line((-10.7006800626, 33.0106965859), (-16.5125517946, 30.2465378152))
            Line((-16.5125517946, 30.2465378152), (-14.49381421, 27.1467234801))
            ThreePointArc((-14.49381421, 27.1467234801), (-11.6730301026, 28.5006057595), (-8.9728483214, 30.081377266))
            Line((-8.9728483214, 30.081377266), (-10.7006800626, 33.0106965859))
        make_face()
        with BuildLine():
            Line((-3.2348314891, 20.3532983314), (-3.2916828829, 20.4496826507))
            Line((-3.2916828829, 20.4496826507), (-3.4925, 19.3728821291))
            ThreePointArc((-3.4925, 19.3728821291), (-3.3814747986, 19.8677707245), (-3.2348314891, 20.3532983314))
        make_face()
    extrude(amount=-F3_DEPTH)

    # F2 (on Top) → F4 (join)
    with BuildSketch(Plane.XY):
        with BuildLine():
            ThreePointArc((6.5160756963, 74.4086220475), (-52.367550677, 92.6591799441), (-51.5288214508, 31.0177908318))
            ThreePointArc((-51.5288214508, 31.0177908318), (-38.2690149791, 73.7992495952), (6.5160756963, 74.4086220475))
        make_face()
    extrude(amount=F4_DEPTH)

    # F7 (through all)
    with Locations(Plane.XY):
        with Locations((-29.5556407262, 62.1431716141)):
            Hole(F7_D / 2)


with BuildPart() as f5:
    # F2 (on Top) → F5 (new body)
    with BuildSketch(Plane.XY):
        with BuildLine():
            Line((0, 22.6059219694), (3.374109886, 18.0922987958))
            Line((3.374109886, 18.0922987958), (8.9687114132, 22.2744822868))
            ThreePointArc((8.9687114132, 22.2744822868), (4.8463766175, 24.9203772716), (0, 24.2083111795))
            Line((0, 24.2083111795), (0, 22.6059219694))
        make_face()
        with BuildLine():
            Line((3.374109886, 18.0922987958), (10.240719772, 16.8117154624))
            ThreePointArc((10.240719772, 16.8117154624), (10.3294493836, 17.4492766553), (10.359109886, 18.0922987958))
            ThreePointArc((10.359109886, 18.0922987958), (10.0024021497, 20.2959245958), (8.9687114132, 22.2744822868))
            Line((8.9687114132, 22.2744822868), (3.374109886, 18.0922987958))
        make_face()
        with BuildLine():
            ThreePointArc((2.1556683682, 11.2143903006), (7.3500328883, 12.3492803142), (10.240719772, 16.8117154624))
            Line((10.240719772, 16.8117154624), (3.374109886, 18.0922987958))
            Line((3.374109886, 18.0922987958), (0, 15.5700196677))
            Line((0, 15.5700196677), (0, 14.8690522954))
            Line((0, 14.8690522954), (2.1556683682, 11.2143903006))
        make_face()
        Polygon((0, 18.7215509241), (3.374109886, 18.0922987958), (0, 22.6059219694), align=None)
        Polygon((0, 15.5700196677), (3.374109886, 18.0922987958), (0, 18.7215509241), align=None)
        Polygon((0, 15.5700196677), (0, 18.7215509241), (-2.5532194688, 19.197711701), (-0.286939248, 15.3555213553), align=None)
        with BuildLine():
            Line((-2.5532194688, 19.197711701), (0, 18.7215509241))
            Line((0, 18.7215509241), (0, 22.6059219694))
            Line((0, 22.6059219694), (-0.808073605, 23.6869003229))
            ThreePointArc((-0.808073605, 23.6869003229), (-2.2730415666, 22.2032482569), (-3.2348314891, 20.3532983314))
            Line((-3.2348314891, 20.3532983314), (-2.5532194688, 19.197711701))
        make_face()
        with BuildLine():
            Line((0, 22.6059219694), (0, 24.2083111795))
            ThreePointArc((0, 24.2083111795), (-0.4130209171, 23.961529178), (-0.808073605, 23.6869003229))
            Line((-0.808073605, 23.6869003229), (0, 22.6059219694))
        make_face()
        Polygon((0, 14.8690522954), (0, 15.5700196677), (-0.286939248, 15.3555213553), align=None)
        with BuildLine():
            ThreePointArc((-3.4925, 19.3728821291), (-3.4288970091, 16.508214775), (-2.2204916412, 13.9101153048))
            Line((-2.2204916412, 13.9101153048), (-0.286939248, 15.3555213553))
            Line((-0.286939248, 15.3555213553), (-2.5532194688, 19.197711701))
            Line((-2.5532194688, 19.197711701), (-3.4925, 19.3728821291))
        make_face()
        with BuildLine():
            ThreePointArc((-2.2204916412, 13.9101153048), (-1.2133043802, 12.8248653268), (0, 11.9762864121))
            Line((0, 11.9762864121), (0, 14.8690522954))
            Line((0, 14.8690522954), (-0.286939248, 15.3555213553))
            Line((-0.286939248, 15.3555213553), (-2.2204916412, 13.9101153048))
        make_face()
        with BuildLine():
            ThreePointArc((0, 11.9762864121), (1.0464493608, 11.5065398054), (2.1556683682, 11.2143903006))
            Line((2.1556683682, 11.2143903006), (0, 14.8690522954))
            Line((0, 14.8690522954), (0, 11.9762864121))
        make_face()
        with BuildLine():
            Line((-3.4925, 19.3728821291), (-2.5532194688, 19.197711701))
            Line((-2.5532194688, 19.197711701), (-3.2348314891, 20.3532983314))
            ThreePointArc((-3.2348314891, 20.3532983314), (-3.3814747986, 19.8677707245), (-3.4925, 19.3728821291))
        make_face()
    extrude(amount=F5_DEPTH)


solid = Compound([f1.part, f3.part, f5.part])
